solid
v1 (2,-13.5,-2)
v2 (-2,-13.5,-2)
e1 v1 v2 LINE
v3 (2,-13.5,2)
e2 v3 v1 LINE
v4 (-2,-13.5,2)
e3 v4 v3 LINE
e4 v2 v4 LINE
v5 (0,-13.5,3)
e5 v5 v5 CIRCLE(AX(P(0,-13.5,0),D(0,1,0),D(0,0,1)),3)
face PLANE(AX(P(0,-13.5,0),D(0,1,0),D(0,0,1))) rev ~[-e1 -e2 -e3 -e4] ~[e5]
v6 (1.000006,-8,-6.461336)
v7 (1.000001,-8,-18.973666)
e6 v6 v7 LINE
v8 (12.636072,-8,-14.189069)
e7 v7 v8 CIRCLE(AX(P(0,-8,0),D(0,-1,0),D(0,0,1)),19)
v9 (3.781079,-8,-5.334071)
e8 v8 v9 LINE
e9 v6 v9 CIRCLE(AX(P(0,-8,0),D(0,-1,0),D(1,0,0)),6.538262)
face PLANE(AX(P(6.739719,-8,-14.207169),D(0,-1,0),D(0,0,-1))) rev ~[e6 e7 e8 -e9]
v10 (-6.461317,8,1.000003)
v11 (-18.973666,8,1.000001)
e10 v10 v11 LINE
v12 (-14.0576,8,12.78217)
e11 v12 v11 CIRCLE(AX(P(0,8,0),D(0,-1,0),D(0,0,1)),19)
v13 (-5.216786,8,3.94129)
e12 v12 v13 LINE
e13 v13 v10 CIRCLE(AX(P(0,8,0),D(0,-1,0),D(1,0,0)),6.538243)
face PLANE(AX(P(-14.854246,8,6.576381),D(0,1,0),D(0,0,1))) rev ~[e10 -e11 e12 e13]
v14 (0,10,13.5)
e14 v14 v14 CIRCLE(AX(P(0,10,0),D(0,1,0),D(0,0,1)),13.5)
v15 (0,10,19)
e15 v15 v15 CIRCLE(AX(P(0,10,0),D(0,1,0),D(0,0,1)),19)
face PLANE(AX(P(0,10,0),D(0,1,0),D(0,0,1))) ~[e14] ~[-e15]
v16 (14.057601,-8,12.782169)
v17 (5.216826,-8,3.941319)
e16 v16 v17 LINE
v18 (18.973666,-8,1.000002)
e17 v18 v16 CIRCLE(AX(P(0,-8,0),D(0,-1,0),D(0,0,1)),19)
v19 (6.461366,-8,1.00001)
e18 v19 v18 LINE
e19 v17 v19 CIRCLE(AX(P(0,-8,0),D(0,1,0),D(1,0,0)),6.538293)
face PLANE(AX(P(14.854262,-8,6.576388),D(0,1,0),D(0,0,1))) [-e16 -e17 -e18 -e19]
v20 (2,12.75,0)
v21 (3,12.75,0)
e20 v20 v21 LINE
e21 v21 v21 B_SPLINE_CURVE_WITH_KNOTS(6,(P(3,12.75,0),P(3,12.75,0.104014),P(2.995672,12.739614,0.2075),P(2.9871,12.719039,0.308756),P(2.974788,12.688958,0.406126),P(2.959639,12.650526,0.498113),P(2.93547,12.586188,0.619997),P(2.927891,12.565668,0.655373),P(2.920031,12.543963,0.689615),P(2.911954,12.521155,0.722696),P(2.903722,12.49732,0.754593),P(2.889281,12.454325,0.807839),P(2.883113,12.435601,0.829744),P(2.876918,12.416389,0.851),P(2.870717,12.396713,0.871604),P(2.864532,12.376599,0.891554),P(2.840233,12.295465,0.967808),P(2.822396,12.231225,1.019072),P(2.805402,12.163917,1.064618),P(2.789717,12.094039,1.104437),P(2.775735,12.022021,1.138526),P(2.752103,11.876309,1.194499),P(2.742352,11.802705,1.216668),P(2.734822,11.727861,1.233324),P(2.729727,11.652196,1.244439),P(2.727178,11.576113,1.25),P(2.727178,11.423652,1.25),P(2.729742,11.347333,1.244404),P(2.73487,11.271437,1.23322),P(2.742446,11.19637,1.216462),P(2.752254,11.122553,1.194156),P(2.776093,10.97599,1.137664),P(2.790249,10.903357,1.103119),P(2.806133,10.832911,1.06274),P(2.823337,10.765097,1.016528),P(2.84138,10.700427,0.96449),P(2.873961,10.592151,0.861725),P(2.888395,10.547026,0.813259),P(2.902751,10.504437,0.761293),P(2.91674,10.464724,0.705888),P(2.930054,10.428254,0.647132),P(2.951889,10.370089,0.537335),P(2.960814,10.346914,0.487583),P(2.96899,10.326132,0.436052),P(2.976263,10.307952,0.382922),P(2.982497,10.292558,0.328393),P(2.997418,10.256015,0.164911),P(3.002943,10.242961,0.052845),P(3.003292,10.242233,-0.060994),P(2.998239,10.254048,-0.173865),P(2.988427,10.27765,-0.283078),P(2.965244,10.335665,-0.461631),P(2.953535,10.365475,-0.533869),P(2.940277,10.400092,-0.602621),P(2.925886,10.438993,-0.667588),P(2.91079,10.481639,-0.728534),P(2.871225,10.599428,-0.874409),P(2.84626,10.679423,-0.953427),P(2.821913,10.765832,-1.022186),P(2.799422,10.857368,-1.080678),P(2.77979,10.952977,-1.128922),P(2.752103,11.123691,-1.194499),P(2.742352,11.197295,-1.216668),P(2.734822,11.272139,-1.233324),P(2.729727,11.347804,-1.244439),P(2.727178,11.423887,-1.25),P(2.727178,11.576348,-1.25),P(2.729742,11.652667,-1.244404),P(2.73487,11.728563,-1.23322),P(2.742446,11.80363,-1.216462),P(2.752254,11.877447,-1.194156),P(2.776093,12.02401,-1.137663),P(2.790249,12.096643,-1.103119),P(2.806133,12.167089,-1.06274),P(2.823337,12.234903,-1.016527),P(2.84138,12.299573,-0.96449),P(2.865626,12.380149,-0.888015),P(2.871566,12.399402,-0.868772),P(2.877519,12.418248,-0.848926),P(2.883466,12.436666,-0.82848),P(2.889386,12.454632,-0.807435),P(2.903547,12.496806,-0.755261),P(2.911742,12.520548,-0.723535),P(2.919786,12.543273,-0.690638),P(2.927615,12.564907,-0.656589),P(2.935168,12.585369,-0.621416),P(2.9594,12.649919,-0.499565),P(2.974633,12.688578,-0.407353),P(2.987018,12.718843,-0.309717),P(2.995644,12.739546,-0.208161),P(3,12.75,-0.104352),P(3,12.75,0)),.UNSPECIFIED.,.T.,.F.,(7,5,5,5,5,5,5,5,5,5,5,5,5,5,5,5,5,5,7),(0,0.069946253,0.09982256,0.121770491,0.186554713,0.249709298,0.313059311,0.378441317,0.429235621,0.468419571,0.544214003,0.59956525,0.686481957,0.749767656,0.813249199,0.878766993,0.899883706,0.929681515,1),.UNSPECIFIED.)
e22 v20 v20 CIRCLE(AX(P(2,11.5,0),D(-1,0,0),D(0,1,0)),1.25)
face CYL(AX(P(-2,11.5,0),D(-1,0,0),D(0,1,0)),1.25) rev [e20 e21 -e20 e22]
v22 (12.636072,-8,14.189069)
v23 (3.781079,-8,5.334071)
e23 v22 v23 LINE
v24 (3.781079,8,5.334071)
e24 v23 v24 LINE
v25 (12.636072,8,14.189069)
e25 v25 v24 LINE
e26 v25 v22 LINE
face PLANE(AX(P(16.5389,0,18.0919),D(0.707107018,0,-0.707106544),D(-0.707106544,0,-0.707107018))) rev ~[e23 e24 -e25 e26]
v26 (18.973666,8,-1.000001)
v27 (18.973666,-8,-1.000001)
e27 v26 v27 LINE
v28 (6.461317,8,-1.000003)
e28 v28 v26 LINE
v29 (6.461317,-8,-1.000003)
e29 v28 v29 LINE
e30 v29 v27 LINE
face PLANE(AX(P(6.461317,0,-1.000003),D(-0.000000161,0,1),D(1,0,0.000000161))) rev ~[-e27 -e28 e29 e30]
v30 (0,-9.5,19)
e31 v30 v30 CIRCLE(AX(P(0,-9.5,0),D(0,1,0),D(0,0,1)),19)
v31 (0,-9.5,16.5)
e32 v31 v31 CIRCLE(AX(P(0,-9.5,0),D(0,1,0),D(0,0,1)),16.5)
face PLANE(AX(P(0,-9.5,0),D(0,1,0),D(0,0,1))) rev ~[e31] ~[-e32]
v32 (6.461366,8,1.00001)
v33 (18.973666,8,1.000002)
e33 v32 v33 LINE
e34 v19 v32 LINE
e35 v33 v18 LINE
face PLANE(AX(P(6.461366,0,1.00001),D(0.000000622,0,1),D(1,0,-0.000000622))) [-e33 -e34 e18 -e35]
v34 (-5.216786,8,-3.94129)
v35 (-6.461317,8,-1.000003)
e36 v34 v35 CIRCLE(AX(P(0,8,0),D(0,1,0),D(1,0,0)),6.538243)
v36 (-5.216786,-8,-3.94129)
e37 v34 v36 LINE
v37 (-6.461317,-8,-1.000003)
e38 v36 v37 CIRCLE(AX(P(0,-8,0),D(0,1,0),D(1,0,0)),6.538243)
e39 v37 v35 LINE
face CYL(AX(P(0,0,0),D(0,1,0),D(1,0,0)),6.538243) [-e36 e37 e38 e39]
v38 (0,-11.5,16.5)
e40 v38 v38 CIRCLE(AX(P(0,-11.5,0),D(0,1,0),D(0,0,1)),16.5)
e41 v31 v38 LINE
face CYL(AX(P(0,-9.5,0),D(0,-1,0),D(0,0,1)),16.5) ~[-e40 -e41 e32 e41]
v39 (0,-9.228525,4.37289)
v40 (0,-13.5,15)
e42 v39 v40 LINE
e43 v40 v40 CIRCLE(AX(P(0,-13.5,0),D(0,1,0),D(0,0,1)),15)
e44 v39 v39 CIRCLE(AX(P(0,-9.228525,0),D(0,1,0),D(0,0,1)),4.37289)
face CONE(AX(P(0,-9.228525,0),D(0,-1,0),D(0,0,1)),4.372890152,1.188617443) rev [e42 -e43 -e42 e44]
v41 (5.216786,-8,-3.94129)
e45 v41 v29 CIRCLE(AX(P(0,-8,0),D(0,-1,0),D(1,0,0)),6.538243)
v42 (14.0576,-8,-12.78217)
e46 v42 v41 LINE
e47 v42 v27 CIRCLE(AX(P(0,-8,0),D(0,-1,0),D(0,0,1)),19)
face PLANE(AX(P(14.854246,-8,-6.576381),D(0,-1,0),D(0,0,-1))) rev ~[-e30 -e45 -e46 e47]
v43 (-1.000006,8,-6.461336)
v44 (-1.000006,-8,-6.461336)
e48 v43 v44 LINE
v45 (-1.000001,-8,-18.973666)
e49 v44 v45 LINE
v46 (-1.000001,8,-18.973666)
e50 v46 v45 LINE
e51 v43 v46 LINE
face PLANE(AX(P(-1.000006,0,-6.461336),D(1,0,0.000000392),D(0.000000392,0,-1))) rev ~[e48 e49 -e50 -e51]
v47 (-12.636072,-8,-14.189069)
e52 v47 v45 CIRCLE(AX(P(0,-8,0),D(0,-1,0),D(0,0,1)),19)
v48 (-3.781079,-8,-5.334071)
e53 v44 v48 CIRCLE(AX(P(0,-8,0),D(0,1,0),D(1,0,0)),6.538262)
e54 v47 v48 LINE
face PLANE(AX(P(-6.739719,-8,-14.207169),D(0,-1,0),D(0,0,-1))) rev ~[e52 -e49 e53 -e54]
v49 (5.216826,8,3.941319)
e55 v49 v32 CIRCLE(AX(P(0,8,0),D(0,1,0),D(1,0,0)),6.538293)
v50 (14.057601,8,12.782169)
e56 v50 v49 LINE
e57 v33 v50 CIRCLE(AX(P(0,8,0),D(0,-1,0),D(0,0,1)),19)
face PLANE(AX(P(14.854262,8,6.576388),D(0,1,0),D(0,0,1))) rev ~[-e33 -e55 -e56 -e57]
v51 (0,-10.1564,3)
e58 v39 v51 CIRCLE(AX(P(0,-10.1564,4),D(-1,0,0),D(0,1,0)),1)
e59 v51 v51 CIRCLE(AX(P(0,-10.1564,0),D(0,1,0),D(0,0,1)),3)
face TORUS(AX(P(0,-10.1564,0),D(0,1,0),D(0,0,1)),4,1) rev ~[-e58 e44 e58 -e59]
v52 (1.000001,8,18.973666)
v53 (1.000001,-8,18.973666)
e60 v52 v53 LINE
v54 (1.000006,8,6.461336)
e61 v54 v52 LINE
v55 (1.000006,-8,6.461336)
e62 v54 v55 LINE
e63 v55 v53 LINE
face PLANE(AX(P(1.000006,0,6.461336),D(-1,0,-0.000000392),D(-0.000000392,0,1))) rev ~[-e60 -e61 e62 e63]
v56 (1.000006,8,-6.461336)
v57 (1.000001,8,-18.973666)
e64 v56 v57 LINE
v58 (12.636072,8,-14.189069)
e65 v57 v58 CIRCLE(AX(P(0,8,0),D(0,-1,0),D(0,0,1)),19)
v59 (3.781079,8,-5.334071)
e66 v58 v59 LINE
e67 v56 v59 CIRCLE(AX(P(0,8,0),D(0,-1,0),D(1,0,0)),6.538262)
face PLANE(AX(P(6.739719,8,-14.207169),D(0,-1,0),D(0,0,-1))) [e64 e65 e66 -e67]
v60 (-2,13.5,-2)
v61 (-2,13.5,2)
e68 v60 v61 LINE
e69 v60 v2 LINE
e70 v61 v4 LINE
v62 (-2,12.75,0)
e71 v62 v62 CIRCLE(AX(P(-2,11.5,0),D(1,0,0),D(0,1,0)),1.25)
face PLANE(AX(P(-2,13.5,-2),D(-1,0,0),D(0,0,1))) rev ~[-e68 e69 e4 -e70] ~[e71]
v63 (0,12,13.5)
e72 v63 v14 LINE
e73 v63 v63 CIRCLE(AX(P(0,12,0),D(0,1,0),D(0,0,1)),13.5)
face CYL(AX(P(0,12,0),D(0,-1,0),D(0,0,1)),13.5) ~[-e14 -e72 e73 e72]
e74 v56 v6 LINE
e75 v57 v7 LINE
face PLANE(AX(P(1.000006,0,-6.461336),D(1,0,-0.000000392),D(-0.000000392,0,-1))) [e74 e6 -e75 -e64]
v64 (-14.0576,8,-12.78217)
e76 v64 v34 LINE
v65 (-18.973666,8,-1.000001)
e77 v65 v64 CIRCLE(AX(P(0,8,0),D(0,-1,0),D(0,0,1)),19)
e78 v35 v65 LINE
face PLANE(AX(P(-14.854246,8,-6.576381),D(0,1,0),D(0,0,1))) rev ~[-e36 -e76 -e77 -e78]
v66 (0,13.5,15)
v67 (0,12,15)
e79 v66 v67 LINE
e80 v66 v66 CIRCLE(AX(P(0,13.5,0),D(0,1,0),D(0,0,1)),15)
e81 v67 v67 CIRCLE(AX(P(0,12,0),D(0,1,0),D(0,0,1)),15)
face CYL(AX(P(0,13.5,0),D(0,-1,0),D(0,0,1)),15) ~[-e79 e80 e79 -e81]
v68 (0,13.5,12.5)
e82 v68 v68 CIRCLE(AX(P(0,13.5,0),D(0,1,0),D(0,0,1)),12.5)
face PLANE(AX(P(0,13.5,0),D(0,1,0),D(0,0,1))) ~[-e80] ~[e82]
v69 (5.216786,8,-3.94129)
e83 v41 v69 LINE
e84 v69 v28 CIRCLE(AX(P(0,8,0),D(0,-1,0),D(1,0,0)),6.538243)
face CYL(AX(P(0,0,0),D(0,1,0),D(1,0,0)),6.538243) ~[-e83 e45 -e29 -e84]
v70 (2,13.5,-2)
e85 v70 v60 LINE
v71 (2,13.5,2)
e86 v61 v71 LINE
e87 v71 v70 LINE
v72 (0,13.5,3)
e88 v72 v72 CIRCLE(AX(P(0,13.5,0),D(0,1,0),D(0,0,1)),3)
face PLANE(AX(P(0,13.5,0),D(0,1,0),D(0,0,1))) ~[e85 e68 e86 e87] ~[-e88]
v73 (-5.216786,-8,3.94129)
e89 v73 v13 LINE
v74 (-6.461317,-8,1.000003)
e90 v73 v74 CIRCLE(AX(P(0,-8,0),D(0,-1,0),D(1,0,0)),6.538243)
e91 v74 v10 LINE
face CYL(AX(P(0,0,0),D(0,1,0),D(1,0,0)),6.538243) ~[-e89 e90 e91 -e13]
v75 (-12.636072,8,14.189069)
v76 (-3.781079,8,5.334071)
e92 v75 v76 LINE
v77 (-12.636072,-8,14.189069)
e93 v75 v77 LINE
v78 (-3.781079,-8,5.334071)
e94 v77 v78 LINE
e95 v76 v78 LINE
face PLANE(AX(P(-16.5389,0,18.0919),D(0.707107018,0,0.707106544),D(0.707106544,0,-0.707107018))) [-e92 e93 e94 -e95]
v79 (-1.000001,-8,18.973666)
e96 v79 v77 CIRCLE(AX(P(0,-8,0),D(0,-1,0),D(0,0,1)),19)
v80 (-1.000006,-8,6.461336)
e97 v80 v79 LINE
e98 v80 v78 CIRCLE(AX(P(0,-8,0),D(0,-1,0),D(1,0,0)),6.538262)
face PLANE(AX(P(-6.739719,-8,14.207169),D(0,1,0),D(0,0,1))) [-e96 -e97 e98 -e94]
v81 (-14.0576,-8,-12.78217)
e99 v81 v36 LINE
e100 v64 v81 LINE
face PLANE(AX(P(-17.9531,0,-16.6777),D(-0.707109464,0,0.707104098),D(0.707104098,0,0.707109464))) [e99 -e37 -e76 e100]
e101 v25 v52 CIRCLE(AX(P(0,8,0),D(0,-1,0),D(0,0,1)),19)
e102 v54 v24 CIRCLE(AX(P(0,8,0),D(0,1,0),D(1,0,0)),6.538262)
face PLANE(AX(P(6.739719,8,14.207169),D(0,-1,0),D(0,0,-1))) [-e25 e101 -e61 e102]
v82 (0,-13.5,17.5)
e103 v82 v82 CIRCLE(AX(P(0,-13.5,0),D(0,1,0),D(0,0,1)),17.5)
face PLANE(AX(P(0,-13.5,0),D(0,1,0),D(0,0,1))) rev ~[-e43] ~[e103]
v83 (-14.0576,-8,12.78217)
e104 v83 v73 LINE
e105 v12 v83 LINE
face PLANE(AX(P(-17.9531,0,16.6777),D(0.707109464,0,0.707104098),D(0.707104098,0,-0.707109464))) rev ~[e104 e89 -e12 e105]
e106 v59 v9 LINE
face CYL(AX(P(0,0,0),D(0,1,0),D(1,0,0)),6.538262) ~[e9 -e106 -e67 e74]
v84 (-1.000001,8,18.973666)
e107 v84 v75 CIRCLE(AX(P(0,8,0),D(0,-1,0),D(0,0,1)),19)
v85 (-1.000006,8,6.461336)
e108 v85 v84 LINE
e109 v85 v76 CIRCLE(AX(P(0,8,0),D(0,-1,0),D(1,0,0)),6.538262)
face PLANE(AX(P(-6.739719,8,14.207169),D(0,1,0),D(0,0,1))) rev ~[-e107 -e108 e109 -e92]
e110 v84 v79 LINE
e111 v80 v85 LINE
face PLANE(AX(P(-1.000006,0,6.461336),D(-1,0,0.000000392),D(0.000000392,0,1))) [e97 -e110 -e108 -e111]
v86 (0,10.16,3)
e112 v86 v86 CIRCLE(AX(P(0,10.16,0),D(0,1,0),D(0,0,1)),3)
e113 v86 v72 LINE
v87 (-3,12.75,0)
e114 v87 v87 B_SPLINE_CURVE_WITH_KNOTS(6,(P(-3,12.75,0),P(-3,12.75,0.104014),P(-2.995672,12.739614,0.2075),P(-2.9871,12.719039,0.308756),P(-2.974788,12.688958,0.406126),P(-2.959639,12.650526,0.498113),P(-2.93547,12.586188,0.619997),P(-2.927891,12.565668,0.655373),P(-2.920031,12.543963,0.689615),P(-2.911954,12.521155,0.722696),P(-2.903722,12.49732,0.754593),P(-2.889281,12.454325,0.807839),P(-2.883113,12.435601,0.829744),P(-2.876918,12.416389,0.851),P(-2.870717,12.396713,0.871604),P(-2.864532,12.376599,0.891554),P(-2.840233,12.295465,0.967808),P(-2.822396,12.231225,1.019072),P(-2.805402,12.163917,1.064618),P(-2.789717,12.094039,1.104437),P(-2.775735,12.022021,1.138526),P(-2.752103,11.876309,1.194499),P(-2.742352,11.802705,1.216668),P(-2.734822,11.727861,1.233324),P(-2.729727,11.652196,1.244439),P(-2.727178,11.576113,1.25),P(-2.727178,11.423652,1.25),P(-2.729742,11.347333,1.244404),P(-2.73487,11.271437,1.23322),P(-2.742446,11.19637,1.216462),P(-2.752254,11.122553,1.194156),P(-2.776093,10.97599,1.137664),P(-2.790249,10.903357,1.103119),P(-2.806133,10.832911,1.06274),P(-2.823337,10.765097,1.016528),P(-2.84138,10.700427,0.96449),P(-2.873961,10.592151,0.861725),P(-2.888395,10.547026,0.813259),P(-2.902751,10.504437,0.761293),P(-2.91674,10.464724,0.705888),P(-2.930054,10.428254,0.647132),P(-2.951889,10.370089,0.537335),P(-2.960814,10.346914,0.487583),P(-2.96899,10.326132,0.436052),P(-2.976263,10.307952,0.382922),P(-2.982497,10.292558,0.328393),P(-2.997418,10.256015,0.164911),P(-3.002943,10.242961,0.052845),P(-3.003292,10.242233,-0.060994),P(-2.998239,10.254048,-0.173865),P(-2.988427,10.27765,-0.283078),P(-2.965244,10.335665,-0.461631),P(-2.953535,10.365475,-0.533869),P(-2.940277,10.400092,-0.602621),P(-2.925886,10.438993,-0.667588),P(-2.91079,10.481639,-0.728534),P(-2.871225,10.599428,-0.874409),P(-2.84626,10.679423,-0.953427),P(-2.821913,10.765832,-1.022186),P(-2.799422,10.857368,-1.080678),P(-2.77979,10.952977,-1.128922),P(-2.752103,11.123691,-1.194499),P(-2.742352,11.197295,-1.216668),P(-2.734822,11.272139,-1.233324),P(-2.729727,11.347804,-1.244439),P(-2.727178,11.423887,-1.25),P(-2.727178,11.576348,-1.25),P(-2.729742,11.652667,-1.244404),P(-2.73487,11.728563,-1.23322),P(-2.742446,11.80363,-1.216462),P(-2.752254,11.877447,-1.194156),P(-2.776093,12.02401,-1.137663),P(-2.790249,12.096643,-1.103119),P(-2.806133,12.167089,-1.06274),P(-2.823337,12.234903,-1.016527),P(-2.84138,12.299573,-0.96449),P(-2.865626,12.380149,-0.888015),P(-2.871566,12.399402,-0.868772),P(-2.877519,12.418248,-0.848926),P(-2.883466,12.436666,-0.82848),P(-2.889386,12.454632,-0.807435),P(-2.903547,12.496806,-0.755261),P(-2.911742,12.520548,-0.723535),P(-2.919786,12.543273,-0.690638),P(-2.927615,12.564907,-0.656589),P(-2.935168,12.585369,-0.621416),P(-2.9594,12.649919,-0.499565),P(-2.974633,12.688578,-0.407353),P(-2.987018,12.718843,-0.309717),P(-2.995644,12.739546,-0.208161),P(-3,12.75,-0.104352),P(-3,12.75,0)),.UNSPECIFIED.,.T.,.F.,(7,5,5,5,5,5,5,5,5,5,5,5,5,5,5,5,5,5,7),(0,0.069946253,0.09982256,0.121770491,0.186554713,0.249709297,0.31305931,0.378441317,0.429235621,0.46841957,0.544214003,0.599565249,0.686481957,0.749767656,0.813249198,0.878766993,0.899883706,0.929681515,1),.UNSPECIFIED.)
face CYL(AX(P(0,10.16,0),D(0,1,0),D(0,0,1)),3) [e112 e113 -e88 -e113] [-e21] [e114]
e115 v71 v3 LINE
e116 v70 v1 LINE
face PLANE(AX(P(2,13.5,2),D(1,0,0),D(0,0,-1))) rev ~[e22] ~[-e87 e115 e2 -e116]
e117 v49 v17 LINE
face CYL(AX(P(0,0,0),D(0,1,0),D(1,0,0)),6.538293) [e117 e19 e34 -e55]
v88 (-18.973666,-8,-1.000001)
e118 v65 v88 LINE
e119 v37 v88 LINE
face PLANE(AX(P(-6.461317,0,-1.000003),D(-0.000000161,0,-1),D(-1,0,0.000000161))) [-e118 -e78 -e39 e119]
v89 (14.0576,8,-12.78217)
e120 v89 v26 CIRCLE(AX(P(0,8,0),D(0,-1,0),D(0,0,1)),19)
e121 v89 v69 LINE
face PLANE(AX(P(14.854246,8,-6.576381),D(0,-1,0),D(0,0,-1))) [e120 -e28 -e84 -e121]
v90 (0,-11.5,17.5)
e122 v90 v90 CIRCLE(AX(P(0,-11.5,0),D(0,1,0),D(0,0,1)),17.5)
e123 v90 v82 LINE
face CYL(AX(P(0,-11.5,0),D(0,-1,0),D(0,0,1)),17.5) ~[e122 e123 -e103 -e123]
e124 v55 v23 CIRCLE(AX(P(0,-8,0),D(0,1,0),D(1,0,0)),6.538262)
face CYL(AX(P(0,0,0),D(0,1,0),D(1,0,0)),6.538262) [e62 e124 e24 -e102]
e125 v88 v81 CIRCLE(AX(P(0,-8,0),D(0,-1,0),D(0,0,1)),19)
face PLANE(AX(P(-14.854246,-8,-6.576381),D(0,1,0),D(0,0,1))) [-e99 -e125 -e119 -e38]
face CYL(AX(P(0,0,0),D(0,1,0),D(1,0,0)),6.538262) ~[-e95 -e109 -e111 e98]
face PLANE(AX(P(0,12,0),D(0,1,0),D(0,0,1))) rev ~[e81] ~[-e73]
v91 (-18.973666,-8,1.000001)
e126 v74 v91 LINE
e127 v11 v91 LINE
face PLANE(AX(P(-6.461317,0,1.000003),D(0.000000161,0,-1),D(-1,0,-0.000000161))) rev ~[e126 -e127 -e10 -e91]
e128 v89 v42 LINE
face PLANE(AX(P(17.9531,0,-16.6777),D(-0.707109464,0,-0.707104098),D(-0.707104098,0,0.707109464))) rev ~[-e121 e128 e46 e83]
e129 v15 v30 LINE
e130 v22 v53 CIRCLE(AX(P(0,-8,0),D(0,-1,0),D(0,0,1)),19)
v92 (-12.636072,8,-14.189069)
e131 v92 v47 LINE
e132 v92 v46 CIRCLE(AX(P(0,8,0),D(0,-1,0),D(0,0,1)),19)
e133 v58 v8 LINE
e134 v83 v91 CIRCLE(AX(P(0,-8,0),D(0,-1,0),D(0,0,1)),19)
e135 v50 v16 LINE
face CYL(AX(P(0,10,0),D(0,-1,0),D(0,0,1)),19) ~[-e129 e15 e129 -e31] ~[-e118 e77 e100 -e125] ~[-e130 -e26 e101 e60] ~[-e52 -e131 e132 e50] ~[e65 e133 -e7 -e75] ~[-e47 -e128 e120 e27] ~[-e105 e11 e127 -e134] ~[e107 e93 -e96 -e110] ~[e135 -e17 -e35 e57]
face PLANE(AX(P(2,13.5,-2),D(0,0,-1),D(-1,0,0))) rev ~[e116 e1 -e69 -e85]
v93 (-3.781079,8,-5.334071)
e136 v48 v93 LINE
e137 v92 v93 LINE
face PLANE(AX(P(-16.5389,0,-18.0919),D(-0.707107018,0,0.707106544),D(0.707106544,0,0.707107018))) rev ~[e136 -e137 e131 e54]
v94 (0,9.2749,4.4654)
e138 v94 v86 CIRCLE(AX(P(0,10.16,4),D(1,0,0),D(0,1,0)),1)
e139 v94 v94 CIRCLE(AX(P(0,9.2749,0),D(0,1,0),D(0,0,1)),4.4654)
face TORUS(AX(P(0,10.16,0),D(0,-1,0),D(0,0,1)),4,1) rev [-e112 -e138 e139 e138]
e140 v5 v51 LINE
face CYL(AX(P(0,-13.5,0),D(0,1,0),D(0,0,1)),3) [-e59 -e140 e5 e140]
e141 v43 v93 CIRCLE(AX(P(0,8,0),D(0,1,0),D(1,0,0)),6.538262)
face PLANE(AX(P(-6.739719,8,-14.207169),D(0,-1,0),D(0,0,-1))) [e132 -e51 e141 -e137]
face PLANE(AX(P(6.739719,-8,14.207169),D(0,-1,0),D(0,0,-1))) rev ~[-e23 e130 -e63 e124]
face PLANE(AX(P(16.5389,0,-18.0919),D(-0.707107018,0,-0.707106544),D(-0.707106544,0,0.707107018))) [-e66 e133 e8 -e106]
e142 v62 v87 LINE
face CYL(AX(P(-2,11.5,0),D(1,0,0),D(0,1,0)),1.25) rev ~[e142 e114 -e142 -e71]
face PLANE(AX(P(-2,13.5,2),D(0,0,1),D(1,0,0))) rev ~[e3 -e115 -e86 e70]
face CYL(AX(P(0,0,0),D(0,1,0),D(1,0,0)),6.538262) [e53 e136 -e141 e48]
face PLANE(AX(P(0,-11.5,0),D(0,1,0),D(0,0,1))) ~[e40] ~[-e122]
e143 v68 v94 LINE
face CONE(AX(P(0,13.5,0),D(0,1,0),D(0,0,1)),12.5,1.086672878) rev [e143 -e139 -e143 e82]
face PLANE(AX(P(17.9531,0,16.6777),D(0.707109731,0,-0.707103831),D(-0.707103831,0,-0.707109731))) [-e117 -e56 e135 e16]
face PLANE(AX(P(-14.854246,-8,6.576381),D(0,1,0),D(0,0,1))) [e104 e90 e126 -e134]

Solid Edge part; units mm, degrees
sketch "Sketch1" plane through (0, 0, 0) normal (1, 0, 0) x (0, 1, 0)
  line L0 (-13.5, 17.5) -> (-13.5, 15)
  line L1 (-9.2285, 4.3729) -> (-13.5, 15)
  arc A0 (-9.2285, 4.3729) -> (-10.1564, 3) centre (-10.1564, 4) cw
  line L2 (-13.5, 3) -> (-10.1564, 3)
  line L3 (-13.5, 3) -> (-13.5, 0)
  line L4 (-13.5, 0) -> (13.5, 0)
  line L5 (13.5, 0) -> (13.5, 3)
  line L6 (10.16, 3) -> (13.5, 3)
  arc A1 (9.2749, 4.4654) -> (10.16, 3) centre (10.16, 4) ccw
  line L7 (13.5, 12.5) -> (9.2749, 4.4654)
  line L8 (13.5, 12.5) -> (13.5, 15)
  line L9 (13.5, 15) -> (12, 15)
  line L10 (12, 15) -> (12, 13.5)
  line L11 (12, 13.5) -> (10, 13.5)
  line L12 (10, 13.5) -> (10, 19)
  line L13 (10, 19) -> (-9.5, 19)
  line L14 (-9.5, 19) -> (-9.5, 16.5)
  line L15 (-9.5, 16.5) -> (-11.5, 16.5)
  line L16 (-11.5, 16.5) -> (-11.5, 17.5)
  line L17 (-11.5, 17.5) -> (-13.5, 17.5)
revolve "RevolvedProtrusion1" add sketch "Sketch1" angle 360 about axis through (0, -13.5, 0) along (0, 1, 0)
sketch "Sketch2" plane through (0, 0, 0) normal (0, -1, 0) x (1, 0, 0)
  line L0 (-16.5389, 18.0919) -> (-1, 20.5018)
  line L1 (-1, 6.4613) -> (-1, 20.5018)
  arc A0 (-1, 6.4613) -> (-3.7811, 5.3341) centre (0, 0) ccw
  line L2 (-16.5389, 18.0919) -> (-3.7811, 5.3341)
  line L3 (16.5389, 18.0919) -> (1, 20.5018)
  line L4 (1, 6.4613) -> (1, 20.5018)
  arc A1 (1, 6.4613) -> (3.7811, 5.3341) centre (0, 0) cw
  line L5 (16.5389, 18.0919) -> (3.7811, 5.3341)
  line L6 (-17.9531, 16.6777) -> (-5.2168, 3.9413)
  arc A2 (-5.2168, 3.9413) -> (-6.4613, 1) centre (0, 0) ccw
  line L7 (-6.4613, 1) -> (-22.8351, 1)
  line L8 (-17.9531, 16.6777) -> (-22.8351, 1)
  line L9 (17.9531, 16.6777) -> (22.8351, 1)
  line L10 (6.4613, 1) -> (22.8351, 1)
  line L11 (17.9531, 16.6777) -> (5.2168, 3.9413)
  arc A3 (5.2168, 3.9413) -> (6.4614, 1) centre (0, 0) cw
  line L12 (-17.9531, -16.6777) -> (-22.8351, -1)
  line L13 (-6.4613, -1) -> (-22.8351, -1)
  arc A4 (-5.2168, -3.9413) -> (-6.4613, -1) centre (0, 0) cw
  line L14 (-17.9531, -16.6777) -> (-5.2168, -3.9413)
  line L15 (-16.5389, -18.0919) -> (-1, -20.5018)
  line L16 (-1, -6.4613) -> (-1, -20.5018)
  arc A5 (-1, -6.4613) -> (-3.7811, -5.3341) centre (0, 0) cw
  line L17 (-16.5389, -18.0919) -> (-3.7811, -5.3341)
  line L18 (16.5389, -18.0919) -> (3.7811, -5.3341)
  arc A6 (1, -6.4613) -> (3.7811, -5.3341) centre (0, 0) ccw
  line L19 (1, -6.4613) -> (1, -20.5018)
  line L20 (16.5389, -18.0919) -> (1, -20.5018)
  line L21 (17.9531, -16.6777) -> (22.8351, -1)
  line L22 (6.4613, -1) -> (22.8351, -1)
  arc A7 (5.2168, -3.9413) -> (6.4613, -1) centre (0, 0) ccw
  line L23 (17.9531, -16.6777) -> (5.2168, -3.9413)
extrude "VaciadoExtruido_1" cut sketch "Sketch2" along normal blind 8 and the other way blind 8
sketch "Sketch3" plane through (0, 0, 0) normal (0, -1, 0) x (1, 0, 0)
  line L0 (2, -2) -> (-2, -2)
  line L1 (-2, -2) -> (-2, 2)
  line L2 (-2, 2) -> (2, 2)
  line L3 (2, 2) -> (2, -2)
extrude "Cutout1" cut sketch "Sketch3" along normal up to surface (27 mm away) from surface at -13.5
sketch "Sketch4" plane through (-2, 0, 0) normal (1, 0, 0) x (0, 1, 0)
  circle A0 centre (11.5, 0) radius 1.25
extrude "Cutout2" cut sketch "Sketch4" along normal up to next and the other way up to next
